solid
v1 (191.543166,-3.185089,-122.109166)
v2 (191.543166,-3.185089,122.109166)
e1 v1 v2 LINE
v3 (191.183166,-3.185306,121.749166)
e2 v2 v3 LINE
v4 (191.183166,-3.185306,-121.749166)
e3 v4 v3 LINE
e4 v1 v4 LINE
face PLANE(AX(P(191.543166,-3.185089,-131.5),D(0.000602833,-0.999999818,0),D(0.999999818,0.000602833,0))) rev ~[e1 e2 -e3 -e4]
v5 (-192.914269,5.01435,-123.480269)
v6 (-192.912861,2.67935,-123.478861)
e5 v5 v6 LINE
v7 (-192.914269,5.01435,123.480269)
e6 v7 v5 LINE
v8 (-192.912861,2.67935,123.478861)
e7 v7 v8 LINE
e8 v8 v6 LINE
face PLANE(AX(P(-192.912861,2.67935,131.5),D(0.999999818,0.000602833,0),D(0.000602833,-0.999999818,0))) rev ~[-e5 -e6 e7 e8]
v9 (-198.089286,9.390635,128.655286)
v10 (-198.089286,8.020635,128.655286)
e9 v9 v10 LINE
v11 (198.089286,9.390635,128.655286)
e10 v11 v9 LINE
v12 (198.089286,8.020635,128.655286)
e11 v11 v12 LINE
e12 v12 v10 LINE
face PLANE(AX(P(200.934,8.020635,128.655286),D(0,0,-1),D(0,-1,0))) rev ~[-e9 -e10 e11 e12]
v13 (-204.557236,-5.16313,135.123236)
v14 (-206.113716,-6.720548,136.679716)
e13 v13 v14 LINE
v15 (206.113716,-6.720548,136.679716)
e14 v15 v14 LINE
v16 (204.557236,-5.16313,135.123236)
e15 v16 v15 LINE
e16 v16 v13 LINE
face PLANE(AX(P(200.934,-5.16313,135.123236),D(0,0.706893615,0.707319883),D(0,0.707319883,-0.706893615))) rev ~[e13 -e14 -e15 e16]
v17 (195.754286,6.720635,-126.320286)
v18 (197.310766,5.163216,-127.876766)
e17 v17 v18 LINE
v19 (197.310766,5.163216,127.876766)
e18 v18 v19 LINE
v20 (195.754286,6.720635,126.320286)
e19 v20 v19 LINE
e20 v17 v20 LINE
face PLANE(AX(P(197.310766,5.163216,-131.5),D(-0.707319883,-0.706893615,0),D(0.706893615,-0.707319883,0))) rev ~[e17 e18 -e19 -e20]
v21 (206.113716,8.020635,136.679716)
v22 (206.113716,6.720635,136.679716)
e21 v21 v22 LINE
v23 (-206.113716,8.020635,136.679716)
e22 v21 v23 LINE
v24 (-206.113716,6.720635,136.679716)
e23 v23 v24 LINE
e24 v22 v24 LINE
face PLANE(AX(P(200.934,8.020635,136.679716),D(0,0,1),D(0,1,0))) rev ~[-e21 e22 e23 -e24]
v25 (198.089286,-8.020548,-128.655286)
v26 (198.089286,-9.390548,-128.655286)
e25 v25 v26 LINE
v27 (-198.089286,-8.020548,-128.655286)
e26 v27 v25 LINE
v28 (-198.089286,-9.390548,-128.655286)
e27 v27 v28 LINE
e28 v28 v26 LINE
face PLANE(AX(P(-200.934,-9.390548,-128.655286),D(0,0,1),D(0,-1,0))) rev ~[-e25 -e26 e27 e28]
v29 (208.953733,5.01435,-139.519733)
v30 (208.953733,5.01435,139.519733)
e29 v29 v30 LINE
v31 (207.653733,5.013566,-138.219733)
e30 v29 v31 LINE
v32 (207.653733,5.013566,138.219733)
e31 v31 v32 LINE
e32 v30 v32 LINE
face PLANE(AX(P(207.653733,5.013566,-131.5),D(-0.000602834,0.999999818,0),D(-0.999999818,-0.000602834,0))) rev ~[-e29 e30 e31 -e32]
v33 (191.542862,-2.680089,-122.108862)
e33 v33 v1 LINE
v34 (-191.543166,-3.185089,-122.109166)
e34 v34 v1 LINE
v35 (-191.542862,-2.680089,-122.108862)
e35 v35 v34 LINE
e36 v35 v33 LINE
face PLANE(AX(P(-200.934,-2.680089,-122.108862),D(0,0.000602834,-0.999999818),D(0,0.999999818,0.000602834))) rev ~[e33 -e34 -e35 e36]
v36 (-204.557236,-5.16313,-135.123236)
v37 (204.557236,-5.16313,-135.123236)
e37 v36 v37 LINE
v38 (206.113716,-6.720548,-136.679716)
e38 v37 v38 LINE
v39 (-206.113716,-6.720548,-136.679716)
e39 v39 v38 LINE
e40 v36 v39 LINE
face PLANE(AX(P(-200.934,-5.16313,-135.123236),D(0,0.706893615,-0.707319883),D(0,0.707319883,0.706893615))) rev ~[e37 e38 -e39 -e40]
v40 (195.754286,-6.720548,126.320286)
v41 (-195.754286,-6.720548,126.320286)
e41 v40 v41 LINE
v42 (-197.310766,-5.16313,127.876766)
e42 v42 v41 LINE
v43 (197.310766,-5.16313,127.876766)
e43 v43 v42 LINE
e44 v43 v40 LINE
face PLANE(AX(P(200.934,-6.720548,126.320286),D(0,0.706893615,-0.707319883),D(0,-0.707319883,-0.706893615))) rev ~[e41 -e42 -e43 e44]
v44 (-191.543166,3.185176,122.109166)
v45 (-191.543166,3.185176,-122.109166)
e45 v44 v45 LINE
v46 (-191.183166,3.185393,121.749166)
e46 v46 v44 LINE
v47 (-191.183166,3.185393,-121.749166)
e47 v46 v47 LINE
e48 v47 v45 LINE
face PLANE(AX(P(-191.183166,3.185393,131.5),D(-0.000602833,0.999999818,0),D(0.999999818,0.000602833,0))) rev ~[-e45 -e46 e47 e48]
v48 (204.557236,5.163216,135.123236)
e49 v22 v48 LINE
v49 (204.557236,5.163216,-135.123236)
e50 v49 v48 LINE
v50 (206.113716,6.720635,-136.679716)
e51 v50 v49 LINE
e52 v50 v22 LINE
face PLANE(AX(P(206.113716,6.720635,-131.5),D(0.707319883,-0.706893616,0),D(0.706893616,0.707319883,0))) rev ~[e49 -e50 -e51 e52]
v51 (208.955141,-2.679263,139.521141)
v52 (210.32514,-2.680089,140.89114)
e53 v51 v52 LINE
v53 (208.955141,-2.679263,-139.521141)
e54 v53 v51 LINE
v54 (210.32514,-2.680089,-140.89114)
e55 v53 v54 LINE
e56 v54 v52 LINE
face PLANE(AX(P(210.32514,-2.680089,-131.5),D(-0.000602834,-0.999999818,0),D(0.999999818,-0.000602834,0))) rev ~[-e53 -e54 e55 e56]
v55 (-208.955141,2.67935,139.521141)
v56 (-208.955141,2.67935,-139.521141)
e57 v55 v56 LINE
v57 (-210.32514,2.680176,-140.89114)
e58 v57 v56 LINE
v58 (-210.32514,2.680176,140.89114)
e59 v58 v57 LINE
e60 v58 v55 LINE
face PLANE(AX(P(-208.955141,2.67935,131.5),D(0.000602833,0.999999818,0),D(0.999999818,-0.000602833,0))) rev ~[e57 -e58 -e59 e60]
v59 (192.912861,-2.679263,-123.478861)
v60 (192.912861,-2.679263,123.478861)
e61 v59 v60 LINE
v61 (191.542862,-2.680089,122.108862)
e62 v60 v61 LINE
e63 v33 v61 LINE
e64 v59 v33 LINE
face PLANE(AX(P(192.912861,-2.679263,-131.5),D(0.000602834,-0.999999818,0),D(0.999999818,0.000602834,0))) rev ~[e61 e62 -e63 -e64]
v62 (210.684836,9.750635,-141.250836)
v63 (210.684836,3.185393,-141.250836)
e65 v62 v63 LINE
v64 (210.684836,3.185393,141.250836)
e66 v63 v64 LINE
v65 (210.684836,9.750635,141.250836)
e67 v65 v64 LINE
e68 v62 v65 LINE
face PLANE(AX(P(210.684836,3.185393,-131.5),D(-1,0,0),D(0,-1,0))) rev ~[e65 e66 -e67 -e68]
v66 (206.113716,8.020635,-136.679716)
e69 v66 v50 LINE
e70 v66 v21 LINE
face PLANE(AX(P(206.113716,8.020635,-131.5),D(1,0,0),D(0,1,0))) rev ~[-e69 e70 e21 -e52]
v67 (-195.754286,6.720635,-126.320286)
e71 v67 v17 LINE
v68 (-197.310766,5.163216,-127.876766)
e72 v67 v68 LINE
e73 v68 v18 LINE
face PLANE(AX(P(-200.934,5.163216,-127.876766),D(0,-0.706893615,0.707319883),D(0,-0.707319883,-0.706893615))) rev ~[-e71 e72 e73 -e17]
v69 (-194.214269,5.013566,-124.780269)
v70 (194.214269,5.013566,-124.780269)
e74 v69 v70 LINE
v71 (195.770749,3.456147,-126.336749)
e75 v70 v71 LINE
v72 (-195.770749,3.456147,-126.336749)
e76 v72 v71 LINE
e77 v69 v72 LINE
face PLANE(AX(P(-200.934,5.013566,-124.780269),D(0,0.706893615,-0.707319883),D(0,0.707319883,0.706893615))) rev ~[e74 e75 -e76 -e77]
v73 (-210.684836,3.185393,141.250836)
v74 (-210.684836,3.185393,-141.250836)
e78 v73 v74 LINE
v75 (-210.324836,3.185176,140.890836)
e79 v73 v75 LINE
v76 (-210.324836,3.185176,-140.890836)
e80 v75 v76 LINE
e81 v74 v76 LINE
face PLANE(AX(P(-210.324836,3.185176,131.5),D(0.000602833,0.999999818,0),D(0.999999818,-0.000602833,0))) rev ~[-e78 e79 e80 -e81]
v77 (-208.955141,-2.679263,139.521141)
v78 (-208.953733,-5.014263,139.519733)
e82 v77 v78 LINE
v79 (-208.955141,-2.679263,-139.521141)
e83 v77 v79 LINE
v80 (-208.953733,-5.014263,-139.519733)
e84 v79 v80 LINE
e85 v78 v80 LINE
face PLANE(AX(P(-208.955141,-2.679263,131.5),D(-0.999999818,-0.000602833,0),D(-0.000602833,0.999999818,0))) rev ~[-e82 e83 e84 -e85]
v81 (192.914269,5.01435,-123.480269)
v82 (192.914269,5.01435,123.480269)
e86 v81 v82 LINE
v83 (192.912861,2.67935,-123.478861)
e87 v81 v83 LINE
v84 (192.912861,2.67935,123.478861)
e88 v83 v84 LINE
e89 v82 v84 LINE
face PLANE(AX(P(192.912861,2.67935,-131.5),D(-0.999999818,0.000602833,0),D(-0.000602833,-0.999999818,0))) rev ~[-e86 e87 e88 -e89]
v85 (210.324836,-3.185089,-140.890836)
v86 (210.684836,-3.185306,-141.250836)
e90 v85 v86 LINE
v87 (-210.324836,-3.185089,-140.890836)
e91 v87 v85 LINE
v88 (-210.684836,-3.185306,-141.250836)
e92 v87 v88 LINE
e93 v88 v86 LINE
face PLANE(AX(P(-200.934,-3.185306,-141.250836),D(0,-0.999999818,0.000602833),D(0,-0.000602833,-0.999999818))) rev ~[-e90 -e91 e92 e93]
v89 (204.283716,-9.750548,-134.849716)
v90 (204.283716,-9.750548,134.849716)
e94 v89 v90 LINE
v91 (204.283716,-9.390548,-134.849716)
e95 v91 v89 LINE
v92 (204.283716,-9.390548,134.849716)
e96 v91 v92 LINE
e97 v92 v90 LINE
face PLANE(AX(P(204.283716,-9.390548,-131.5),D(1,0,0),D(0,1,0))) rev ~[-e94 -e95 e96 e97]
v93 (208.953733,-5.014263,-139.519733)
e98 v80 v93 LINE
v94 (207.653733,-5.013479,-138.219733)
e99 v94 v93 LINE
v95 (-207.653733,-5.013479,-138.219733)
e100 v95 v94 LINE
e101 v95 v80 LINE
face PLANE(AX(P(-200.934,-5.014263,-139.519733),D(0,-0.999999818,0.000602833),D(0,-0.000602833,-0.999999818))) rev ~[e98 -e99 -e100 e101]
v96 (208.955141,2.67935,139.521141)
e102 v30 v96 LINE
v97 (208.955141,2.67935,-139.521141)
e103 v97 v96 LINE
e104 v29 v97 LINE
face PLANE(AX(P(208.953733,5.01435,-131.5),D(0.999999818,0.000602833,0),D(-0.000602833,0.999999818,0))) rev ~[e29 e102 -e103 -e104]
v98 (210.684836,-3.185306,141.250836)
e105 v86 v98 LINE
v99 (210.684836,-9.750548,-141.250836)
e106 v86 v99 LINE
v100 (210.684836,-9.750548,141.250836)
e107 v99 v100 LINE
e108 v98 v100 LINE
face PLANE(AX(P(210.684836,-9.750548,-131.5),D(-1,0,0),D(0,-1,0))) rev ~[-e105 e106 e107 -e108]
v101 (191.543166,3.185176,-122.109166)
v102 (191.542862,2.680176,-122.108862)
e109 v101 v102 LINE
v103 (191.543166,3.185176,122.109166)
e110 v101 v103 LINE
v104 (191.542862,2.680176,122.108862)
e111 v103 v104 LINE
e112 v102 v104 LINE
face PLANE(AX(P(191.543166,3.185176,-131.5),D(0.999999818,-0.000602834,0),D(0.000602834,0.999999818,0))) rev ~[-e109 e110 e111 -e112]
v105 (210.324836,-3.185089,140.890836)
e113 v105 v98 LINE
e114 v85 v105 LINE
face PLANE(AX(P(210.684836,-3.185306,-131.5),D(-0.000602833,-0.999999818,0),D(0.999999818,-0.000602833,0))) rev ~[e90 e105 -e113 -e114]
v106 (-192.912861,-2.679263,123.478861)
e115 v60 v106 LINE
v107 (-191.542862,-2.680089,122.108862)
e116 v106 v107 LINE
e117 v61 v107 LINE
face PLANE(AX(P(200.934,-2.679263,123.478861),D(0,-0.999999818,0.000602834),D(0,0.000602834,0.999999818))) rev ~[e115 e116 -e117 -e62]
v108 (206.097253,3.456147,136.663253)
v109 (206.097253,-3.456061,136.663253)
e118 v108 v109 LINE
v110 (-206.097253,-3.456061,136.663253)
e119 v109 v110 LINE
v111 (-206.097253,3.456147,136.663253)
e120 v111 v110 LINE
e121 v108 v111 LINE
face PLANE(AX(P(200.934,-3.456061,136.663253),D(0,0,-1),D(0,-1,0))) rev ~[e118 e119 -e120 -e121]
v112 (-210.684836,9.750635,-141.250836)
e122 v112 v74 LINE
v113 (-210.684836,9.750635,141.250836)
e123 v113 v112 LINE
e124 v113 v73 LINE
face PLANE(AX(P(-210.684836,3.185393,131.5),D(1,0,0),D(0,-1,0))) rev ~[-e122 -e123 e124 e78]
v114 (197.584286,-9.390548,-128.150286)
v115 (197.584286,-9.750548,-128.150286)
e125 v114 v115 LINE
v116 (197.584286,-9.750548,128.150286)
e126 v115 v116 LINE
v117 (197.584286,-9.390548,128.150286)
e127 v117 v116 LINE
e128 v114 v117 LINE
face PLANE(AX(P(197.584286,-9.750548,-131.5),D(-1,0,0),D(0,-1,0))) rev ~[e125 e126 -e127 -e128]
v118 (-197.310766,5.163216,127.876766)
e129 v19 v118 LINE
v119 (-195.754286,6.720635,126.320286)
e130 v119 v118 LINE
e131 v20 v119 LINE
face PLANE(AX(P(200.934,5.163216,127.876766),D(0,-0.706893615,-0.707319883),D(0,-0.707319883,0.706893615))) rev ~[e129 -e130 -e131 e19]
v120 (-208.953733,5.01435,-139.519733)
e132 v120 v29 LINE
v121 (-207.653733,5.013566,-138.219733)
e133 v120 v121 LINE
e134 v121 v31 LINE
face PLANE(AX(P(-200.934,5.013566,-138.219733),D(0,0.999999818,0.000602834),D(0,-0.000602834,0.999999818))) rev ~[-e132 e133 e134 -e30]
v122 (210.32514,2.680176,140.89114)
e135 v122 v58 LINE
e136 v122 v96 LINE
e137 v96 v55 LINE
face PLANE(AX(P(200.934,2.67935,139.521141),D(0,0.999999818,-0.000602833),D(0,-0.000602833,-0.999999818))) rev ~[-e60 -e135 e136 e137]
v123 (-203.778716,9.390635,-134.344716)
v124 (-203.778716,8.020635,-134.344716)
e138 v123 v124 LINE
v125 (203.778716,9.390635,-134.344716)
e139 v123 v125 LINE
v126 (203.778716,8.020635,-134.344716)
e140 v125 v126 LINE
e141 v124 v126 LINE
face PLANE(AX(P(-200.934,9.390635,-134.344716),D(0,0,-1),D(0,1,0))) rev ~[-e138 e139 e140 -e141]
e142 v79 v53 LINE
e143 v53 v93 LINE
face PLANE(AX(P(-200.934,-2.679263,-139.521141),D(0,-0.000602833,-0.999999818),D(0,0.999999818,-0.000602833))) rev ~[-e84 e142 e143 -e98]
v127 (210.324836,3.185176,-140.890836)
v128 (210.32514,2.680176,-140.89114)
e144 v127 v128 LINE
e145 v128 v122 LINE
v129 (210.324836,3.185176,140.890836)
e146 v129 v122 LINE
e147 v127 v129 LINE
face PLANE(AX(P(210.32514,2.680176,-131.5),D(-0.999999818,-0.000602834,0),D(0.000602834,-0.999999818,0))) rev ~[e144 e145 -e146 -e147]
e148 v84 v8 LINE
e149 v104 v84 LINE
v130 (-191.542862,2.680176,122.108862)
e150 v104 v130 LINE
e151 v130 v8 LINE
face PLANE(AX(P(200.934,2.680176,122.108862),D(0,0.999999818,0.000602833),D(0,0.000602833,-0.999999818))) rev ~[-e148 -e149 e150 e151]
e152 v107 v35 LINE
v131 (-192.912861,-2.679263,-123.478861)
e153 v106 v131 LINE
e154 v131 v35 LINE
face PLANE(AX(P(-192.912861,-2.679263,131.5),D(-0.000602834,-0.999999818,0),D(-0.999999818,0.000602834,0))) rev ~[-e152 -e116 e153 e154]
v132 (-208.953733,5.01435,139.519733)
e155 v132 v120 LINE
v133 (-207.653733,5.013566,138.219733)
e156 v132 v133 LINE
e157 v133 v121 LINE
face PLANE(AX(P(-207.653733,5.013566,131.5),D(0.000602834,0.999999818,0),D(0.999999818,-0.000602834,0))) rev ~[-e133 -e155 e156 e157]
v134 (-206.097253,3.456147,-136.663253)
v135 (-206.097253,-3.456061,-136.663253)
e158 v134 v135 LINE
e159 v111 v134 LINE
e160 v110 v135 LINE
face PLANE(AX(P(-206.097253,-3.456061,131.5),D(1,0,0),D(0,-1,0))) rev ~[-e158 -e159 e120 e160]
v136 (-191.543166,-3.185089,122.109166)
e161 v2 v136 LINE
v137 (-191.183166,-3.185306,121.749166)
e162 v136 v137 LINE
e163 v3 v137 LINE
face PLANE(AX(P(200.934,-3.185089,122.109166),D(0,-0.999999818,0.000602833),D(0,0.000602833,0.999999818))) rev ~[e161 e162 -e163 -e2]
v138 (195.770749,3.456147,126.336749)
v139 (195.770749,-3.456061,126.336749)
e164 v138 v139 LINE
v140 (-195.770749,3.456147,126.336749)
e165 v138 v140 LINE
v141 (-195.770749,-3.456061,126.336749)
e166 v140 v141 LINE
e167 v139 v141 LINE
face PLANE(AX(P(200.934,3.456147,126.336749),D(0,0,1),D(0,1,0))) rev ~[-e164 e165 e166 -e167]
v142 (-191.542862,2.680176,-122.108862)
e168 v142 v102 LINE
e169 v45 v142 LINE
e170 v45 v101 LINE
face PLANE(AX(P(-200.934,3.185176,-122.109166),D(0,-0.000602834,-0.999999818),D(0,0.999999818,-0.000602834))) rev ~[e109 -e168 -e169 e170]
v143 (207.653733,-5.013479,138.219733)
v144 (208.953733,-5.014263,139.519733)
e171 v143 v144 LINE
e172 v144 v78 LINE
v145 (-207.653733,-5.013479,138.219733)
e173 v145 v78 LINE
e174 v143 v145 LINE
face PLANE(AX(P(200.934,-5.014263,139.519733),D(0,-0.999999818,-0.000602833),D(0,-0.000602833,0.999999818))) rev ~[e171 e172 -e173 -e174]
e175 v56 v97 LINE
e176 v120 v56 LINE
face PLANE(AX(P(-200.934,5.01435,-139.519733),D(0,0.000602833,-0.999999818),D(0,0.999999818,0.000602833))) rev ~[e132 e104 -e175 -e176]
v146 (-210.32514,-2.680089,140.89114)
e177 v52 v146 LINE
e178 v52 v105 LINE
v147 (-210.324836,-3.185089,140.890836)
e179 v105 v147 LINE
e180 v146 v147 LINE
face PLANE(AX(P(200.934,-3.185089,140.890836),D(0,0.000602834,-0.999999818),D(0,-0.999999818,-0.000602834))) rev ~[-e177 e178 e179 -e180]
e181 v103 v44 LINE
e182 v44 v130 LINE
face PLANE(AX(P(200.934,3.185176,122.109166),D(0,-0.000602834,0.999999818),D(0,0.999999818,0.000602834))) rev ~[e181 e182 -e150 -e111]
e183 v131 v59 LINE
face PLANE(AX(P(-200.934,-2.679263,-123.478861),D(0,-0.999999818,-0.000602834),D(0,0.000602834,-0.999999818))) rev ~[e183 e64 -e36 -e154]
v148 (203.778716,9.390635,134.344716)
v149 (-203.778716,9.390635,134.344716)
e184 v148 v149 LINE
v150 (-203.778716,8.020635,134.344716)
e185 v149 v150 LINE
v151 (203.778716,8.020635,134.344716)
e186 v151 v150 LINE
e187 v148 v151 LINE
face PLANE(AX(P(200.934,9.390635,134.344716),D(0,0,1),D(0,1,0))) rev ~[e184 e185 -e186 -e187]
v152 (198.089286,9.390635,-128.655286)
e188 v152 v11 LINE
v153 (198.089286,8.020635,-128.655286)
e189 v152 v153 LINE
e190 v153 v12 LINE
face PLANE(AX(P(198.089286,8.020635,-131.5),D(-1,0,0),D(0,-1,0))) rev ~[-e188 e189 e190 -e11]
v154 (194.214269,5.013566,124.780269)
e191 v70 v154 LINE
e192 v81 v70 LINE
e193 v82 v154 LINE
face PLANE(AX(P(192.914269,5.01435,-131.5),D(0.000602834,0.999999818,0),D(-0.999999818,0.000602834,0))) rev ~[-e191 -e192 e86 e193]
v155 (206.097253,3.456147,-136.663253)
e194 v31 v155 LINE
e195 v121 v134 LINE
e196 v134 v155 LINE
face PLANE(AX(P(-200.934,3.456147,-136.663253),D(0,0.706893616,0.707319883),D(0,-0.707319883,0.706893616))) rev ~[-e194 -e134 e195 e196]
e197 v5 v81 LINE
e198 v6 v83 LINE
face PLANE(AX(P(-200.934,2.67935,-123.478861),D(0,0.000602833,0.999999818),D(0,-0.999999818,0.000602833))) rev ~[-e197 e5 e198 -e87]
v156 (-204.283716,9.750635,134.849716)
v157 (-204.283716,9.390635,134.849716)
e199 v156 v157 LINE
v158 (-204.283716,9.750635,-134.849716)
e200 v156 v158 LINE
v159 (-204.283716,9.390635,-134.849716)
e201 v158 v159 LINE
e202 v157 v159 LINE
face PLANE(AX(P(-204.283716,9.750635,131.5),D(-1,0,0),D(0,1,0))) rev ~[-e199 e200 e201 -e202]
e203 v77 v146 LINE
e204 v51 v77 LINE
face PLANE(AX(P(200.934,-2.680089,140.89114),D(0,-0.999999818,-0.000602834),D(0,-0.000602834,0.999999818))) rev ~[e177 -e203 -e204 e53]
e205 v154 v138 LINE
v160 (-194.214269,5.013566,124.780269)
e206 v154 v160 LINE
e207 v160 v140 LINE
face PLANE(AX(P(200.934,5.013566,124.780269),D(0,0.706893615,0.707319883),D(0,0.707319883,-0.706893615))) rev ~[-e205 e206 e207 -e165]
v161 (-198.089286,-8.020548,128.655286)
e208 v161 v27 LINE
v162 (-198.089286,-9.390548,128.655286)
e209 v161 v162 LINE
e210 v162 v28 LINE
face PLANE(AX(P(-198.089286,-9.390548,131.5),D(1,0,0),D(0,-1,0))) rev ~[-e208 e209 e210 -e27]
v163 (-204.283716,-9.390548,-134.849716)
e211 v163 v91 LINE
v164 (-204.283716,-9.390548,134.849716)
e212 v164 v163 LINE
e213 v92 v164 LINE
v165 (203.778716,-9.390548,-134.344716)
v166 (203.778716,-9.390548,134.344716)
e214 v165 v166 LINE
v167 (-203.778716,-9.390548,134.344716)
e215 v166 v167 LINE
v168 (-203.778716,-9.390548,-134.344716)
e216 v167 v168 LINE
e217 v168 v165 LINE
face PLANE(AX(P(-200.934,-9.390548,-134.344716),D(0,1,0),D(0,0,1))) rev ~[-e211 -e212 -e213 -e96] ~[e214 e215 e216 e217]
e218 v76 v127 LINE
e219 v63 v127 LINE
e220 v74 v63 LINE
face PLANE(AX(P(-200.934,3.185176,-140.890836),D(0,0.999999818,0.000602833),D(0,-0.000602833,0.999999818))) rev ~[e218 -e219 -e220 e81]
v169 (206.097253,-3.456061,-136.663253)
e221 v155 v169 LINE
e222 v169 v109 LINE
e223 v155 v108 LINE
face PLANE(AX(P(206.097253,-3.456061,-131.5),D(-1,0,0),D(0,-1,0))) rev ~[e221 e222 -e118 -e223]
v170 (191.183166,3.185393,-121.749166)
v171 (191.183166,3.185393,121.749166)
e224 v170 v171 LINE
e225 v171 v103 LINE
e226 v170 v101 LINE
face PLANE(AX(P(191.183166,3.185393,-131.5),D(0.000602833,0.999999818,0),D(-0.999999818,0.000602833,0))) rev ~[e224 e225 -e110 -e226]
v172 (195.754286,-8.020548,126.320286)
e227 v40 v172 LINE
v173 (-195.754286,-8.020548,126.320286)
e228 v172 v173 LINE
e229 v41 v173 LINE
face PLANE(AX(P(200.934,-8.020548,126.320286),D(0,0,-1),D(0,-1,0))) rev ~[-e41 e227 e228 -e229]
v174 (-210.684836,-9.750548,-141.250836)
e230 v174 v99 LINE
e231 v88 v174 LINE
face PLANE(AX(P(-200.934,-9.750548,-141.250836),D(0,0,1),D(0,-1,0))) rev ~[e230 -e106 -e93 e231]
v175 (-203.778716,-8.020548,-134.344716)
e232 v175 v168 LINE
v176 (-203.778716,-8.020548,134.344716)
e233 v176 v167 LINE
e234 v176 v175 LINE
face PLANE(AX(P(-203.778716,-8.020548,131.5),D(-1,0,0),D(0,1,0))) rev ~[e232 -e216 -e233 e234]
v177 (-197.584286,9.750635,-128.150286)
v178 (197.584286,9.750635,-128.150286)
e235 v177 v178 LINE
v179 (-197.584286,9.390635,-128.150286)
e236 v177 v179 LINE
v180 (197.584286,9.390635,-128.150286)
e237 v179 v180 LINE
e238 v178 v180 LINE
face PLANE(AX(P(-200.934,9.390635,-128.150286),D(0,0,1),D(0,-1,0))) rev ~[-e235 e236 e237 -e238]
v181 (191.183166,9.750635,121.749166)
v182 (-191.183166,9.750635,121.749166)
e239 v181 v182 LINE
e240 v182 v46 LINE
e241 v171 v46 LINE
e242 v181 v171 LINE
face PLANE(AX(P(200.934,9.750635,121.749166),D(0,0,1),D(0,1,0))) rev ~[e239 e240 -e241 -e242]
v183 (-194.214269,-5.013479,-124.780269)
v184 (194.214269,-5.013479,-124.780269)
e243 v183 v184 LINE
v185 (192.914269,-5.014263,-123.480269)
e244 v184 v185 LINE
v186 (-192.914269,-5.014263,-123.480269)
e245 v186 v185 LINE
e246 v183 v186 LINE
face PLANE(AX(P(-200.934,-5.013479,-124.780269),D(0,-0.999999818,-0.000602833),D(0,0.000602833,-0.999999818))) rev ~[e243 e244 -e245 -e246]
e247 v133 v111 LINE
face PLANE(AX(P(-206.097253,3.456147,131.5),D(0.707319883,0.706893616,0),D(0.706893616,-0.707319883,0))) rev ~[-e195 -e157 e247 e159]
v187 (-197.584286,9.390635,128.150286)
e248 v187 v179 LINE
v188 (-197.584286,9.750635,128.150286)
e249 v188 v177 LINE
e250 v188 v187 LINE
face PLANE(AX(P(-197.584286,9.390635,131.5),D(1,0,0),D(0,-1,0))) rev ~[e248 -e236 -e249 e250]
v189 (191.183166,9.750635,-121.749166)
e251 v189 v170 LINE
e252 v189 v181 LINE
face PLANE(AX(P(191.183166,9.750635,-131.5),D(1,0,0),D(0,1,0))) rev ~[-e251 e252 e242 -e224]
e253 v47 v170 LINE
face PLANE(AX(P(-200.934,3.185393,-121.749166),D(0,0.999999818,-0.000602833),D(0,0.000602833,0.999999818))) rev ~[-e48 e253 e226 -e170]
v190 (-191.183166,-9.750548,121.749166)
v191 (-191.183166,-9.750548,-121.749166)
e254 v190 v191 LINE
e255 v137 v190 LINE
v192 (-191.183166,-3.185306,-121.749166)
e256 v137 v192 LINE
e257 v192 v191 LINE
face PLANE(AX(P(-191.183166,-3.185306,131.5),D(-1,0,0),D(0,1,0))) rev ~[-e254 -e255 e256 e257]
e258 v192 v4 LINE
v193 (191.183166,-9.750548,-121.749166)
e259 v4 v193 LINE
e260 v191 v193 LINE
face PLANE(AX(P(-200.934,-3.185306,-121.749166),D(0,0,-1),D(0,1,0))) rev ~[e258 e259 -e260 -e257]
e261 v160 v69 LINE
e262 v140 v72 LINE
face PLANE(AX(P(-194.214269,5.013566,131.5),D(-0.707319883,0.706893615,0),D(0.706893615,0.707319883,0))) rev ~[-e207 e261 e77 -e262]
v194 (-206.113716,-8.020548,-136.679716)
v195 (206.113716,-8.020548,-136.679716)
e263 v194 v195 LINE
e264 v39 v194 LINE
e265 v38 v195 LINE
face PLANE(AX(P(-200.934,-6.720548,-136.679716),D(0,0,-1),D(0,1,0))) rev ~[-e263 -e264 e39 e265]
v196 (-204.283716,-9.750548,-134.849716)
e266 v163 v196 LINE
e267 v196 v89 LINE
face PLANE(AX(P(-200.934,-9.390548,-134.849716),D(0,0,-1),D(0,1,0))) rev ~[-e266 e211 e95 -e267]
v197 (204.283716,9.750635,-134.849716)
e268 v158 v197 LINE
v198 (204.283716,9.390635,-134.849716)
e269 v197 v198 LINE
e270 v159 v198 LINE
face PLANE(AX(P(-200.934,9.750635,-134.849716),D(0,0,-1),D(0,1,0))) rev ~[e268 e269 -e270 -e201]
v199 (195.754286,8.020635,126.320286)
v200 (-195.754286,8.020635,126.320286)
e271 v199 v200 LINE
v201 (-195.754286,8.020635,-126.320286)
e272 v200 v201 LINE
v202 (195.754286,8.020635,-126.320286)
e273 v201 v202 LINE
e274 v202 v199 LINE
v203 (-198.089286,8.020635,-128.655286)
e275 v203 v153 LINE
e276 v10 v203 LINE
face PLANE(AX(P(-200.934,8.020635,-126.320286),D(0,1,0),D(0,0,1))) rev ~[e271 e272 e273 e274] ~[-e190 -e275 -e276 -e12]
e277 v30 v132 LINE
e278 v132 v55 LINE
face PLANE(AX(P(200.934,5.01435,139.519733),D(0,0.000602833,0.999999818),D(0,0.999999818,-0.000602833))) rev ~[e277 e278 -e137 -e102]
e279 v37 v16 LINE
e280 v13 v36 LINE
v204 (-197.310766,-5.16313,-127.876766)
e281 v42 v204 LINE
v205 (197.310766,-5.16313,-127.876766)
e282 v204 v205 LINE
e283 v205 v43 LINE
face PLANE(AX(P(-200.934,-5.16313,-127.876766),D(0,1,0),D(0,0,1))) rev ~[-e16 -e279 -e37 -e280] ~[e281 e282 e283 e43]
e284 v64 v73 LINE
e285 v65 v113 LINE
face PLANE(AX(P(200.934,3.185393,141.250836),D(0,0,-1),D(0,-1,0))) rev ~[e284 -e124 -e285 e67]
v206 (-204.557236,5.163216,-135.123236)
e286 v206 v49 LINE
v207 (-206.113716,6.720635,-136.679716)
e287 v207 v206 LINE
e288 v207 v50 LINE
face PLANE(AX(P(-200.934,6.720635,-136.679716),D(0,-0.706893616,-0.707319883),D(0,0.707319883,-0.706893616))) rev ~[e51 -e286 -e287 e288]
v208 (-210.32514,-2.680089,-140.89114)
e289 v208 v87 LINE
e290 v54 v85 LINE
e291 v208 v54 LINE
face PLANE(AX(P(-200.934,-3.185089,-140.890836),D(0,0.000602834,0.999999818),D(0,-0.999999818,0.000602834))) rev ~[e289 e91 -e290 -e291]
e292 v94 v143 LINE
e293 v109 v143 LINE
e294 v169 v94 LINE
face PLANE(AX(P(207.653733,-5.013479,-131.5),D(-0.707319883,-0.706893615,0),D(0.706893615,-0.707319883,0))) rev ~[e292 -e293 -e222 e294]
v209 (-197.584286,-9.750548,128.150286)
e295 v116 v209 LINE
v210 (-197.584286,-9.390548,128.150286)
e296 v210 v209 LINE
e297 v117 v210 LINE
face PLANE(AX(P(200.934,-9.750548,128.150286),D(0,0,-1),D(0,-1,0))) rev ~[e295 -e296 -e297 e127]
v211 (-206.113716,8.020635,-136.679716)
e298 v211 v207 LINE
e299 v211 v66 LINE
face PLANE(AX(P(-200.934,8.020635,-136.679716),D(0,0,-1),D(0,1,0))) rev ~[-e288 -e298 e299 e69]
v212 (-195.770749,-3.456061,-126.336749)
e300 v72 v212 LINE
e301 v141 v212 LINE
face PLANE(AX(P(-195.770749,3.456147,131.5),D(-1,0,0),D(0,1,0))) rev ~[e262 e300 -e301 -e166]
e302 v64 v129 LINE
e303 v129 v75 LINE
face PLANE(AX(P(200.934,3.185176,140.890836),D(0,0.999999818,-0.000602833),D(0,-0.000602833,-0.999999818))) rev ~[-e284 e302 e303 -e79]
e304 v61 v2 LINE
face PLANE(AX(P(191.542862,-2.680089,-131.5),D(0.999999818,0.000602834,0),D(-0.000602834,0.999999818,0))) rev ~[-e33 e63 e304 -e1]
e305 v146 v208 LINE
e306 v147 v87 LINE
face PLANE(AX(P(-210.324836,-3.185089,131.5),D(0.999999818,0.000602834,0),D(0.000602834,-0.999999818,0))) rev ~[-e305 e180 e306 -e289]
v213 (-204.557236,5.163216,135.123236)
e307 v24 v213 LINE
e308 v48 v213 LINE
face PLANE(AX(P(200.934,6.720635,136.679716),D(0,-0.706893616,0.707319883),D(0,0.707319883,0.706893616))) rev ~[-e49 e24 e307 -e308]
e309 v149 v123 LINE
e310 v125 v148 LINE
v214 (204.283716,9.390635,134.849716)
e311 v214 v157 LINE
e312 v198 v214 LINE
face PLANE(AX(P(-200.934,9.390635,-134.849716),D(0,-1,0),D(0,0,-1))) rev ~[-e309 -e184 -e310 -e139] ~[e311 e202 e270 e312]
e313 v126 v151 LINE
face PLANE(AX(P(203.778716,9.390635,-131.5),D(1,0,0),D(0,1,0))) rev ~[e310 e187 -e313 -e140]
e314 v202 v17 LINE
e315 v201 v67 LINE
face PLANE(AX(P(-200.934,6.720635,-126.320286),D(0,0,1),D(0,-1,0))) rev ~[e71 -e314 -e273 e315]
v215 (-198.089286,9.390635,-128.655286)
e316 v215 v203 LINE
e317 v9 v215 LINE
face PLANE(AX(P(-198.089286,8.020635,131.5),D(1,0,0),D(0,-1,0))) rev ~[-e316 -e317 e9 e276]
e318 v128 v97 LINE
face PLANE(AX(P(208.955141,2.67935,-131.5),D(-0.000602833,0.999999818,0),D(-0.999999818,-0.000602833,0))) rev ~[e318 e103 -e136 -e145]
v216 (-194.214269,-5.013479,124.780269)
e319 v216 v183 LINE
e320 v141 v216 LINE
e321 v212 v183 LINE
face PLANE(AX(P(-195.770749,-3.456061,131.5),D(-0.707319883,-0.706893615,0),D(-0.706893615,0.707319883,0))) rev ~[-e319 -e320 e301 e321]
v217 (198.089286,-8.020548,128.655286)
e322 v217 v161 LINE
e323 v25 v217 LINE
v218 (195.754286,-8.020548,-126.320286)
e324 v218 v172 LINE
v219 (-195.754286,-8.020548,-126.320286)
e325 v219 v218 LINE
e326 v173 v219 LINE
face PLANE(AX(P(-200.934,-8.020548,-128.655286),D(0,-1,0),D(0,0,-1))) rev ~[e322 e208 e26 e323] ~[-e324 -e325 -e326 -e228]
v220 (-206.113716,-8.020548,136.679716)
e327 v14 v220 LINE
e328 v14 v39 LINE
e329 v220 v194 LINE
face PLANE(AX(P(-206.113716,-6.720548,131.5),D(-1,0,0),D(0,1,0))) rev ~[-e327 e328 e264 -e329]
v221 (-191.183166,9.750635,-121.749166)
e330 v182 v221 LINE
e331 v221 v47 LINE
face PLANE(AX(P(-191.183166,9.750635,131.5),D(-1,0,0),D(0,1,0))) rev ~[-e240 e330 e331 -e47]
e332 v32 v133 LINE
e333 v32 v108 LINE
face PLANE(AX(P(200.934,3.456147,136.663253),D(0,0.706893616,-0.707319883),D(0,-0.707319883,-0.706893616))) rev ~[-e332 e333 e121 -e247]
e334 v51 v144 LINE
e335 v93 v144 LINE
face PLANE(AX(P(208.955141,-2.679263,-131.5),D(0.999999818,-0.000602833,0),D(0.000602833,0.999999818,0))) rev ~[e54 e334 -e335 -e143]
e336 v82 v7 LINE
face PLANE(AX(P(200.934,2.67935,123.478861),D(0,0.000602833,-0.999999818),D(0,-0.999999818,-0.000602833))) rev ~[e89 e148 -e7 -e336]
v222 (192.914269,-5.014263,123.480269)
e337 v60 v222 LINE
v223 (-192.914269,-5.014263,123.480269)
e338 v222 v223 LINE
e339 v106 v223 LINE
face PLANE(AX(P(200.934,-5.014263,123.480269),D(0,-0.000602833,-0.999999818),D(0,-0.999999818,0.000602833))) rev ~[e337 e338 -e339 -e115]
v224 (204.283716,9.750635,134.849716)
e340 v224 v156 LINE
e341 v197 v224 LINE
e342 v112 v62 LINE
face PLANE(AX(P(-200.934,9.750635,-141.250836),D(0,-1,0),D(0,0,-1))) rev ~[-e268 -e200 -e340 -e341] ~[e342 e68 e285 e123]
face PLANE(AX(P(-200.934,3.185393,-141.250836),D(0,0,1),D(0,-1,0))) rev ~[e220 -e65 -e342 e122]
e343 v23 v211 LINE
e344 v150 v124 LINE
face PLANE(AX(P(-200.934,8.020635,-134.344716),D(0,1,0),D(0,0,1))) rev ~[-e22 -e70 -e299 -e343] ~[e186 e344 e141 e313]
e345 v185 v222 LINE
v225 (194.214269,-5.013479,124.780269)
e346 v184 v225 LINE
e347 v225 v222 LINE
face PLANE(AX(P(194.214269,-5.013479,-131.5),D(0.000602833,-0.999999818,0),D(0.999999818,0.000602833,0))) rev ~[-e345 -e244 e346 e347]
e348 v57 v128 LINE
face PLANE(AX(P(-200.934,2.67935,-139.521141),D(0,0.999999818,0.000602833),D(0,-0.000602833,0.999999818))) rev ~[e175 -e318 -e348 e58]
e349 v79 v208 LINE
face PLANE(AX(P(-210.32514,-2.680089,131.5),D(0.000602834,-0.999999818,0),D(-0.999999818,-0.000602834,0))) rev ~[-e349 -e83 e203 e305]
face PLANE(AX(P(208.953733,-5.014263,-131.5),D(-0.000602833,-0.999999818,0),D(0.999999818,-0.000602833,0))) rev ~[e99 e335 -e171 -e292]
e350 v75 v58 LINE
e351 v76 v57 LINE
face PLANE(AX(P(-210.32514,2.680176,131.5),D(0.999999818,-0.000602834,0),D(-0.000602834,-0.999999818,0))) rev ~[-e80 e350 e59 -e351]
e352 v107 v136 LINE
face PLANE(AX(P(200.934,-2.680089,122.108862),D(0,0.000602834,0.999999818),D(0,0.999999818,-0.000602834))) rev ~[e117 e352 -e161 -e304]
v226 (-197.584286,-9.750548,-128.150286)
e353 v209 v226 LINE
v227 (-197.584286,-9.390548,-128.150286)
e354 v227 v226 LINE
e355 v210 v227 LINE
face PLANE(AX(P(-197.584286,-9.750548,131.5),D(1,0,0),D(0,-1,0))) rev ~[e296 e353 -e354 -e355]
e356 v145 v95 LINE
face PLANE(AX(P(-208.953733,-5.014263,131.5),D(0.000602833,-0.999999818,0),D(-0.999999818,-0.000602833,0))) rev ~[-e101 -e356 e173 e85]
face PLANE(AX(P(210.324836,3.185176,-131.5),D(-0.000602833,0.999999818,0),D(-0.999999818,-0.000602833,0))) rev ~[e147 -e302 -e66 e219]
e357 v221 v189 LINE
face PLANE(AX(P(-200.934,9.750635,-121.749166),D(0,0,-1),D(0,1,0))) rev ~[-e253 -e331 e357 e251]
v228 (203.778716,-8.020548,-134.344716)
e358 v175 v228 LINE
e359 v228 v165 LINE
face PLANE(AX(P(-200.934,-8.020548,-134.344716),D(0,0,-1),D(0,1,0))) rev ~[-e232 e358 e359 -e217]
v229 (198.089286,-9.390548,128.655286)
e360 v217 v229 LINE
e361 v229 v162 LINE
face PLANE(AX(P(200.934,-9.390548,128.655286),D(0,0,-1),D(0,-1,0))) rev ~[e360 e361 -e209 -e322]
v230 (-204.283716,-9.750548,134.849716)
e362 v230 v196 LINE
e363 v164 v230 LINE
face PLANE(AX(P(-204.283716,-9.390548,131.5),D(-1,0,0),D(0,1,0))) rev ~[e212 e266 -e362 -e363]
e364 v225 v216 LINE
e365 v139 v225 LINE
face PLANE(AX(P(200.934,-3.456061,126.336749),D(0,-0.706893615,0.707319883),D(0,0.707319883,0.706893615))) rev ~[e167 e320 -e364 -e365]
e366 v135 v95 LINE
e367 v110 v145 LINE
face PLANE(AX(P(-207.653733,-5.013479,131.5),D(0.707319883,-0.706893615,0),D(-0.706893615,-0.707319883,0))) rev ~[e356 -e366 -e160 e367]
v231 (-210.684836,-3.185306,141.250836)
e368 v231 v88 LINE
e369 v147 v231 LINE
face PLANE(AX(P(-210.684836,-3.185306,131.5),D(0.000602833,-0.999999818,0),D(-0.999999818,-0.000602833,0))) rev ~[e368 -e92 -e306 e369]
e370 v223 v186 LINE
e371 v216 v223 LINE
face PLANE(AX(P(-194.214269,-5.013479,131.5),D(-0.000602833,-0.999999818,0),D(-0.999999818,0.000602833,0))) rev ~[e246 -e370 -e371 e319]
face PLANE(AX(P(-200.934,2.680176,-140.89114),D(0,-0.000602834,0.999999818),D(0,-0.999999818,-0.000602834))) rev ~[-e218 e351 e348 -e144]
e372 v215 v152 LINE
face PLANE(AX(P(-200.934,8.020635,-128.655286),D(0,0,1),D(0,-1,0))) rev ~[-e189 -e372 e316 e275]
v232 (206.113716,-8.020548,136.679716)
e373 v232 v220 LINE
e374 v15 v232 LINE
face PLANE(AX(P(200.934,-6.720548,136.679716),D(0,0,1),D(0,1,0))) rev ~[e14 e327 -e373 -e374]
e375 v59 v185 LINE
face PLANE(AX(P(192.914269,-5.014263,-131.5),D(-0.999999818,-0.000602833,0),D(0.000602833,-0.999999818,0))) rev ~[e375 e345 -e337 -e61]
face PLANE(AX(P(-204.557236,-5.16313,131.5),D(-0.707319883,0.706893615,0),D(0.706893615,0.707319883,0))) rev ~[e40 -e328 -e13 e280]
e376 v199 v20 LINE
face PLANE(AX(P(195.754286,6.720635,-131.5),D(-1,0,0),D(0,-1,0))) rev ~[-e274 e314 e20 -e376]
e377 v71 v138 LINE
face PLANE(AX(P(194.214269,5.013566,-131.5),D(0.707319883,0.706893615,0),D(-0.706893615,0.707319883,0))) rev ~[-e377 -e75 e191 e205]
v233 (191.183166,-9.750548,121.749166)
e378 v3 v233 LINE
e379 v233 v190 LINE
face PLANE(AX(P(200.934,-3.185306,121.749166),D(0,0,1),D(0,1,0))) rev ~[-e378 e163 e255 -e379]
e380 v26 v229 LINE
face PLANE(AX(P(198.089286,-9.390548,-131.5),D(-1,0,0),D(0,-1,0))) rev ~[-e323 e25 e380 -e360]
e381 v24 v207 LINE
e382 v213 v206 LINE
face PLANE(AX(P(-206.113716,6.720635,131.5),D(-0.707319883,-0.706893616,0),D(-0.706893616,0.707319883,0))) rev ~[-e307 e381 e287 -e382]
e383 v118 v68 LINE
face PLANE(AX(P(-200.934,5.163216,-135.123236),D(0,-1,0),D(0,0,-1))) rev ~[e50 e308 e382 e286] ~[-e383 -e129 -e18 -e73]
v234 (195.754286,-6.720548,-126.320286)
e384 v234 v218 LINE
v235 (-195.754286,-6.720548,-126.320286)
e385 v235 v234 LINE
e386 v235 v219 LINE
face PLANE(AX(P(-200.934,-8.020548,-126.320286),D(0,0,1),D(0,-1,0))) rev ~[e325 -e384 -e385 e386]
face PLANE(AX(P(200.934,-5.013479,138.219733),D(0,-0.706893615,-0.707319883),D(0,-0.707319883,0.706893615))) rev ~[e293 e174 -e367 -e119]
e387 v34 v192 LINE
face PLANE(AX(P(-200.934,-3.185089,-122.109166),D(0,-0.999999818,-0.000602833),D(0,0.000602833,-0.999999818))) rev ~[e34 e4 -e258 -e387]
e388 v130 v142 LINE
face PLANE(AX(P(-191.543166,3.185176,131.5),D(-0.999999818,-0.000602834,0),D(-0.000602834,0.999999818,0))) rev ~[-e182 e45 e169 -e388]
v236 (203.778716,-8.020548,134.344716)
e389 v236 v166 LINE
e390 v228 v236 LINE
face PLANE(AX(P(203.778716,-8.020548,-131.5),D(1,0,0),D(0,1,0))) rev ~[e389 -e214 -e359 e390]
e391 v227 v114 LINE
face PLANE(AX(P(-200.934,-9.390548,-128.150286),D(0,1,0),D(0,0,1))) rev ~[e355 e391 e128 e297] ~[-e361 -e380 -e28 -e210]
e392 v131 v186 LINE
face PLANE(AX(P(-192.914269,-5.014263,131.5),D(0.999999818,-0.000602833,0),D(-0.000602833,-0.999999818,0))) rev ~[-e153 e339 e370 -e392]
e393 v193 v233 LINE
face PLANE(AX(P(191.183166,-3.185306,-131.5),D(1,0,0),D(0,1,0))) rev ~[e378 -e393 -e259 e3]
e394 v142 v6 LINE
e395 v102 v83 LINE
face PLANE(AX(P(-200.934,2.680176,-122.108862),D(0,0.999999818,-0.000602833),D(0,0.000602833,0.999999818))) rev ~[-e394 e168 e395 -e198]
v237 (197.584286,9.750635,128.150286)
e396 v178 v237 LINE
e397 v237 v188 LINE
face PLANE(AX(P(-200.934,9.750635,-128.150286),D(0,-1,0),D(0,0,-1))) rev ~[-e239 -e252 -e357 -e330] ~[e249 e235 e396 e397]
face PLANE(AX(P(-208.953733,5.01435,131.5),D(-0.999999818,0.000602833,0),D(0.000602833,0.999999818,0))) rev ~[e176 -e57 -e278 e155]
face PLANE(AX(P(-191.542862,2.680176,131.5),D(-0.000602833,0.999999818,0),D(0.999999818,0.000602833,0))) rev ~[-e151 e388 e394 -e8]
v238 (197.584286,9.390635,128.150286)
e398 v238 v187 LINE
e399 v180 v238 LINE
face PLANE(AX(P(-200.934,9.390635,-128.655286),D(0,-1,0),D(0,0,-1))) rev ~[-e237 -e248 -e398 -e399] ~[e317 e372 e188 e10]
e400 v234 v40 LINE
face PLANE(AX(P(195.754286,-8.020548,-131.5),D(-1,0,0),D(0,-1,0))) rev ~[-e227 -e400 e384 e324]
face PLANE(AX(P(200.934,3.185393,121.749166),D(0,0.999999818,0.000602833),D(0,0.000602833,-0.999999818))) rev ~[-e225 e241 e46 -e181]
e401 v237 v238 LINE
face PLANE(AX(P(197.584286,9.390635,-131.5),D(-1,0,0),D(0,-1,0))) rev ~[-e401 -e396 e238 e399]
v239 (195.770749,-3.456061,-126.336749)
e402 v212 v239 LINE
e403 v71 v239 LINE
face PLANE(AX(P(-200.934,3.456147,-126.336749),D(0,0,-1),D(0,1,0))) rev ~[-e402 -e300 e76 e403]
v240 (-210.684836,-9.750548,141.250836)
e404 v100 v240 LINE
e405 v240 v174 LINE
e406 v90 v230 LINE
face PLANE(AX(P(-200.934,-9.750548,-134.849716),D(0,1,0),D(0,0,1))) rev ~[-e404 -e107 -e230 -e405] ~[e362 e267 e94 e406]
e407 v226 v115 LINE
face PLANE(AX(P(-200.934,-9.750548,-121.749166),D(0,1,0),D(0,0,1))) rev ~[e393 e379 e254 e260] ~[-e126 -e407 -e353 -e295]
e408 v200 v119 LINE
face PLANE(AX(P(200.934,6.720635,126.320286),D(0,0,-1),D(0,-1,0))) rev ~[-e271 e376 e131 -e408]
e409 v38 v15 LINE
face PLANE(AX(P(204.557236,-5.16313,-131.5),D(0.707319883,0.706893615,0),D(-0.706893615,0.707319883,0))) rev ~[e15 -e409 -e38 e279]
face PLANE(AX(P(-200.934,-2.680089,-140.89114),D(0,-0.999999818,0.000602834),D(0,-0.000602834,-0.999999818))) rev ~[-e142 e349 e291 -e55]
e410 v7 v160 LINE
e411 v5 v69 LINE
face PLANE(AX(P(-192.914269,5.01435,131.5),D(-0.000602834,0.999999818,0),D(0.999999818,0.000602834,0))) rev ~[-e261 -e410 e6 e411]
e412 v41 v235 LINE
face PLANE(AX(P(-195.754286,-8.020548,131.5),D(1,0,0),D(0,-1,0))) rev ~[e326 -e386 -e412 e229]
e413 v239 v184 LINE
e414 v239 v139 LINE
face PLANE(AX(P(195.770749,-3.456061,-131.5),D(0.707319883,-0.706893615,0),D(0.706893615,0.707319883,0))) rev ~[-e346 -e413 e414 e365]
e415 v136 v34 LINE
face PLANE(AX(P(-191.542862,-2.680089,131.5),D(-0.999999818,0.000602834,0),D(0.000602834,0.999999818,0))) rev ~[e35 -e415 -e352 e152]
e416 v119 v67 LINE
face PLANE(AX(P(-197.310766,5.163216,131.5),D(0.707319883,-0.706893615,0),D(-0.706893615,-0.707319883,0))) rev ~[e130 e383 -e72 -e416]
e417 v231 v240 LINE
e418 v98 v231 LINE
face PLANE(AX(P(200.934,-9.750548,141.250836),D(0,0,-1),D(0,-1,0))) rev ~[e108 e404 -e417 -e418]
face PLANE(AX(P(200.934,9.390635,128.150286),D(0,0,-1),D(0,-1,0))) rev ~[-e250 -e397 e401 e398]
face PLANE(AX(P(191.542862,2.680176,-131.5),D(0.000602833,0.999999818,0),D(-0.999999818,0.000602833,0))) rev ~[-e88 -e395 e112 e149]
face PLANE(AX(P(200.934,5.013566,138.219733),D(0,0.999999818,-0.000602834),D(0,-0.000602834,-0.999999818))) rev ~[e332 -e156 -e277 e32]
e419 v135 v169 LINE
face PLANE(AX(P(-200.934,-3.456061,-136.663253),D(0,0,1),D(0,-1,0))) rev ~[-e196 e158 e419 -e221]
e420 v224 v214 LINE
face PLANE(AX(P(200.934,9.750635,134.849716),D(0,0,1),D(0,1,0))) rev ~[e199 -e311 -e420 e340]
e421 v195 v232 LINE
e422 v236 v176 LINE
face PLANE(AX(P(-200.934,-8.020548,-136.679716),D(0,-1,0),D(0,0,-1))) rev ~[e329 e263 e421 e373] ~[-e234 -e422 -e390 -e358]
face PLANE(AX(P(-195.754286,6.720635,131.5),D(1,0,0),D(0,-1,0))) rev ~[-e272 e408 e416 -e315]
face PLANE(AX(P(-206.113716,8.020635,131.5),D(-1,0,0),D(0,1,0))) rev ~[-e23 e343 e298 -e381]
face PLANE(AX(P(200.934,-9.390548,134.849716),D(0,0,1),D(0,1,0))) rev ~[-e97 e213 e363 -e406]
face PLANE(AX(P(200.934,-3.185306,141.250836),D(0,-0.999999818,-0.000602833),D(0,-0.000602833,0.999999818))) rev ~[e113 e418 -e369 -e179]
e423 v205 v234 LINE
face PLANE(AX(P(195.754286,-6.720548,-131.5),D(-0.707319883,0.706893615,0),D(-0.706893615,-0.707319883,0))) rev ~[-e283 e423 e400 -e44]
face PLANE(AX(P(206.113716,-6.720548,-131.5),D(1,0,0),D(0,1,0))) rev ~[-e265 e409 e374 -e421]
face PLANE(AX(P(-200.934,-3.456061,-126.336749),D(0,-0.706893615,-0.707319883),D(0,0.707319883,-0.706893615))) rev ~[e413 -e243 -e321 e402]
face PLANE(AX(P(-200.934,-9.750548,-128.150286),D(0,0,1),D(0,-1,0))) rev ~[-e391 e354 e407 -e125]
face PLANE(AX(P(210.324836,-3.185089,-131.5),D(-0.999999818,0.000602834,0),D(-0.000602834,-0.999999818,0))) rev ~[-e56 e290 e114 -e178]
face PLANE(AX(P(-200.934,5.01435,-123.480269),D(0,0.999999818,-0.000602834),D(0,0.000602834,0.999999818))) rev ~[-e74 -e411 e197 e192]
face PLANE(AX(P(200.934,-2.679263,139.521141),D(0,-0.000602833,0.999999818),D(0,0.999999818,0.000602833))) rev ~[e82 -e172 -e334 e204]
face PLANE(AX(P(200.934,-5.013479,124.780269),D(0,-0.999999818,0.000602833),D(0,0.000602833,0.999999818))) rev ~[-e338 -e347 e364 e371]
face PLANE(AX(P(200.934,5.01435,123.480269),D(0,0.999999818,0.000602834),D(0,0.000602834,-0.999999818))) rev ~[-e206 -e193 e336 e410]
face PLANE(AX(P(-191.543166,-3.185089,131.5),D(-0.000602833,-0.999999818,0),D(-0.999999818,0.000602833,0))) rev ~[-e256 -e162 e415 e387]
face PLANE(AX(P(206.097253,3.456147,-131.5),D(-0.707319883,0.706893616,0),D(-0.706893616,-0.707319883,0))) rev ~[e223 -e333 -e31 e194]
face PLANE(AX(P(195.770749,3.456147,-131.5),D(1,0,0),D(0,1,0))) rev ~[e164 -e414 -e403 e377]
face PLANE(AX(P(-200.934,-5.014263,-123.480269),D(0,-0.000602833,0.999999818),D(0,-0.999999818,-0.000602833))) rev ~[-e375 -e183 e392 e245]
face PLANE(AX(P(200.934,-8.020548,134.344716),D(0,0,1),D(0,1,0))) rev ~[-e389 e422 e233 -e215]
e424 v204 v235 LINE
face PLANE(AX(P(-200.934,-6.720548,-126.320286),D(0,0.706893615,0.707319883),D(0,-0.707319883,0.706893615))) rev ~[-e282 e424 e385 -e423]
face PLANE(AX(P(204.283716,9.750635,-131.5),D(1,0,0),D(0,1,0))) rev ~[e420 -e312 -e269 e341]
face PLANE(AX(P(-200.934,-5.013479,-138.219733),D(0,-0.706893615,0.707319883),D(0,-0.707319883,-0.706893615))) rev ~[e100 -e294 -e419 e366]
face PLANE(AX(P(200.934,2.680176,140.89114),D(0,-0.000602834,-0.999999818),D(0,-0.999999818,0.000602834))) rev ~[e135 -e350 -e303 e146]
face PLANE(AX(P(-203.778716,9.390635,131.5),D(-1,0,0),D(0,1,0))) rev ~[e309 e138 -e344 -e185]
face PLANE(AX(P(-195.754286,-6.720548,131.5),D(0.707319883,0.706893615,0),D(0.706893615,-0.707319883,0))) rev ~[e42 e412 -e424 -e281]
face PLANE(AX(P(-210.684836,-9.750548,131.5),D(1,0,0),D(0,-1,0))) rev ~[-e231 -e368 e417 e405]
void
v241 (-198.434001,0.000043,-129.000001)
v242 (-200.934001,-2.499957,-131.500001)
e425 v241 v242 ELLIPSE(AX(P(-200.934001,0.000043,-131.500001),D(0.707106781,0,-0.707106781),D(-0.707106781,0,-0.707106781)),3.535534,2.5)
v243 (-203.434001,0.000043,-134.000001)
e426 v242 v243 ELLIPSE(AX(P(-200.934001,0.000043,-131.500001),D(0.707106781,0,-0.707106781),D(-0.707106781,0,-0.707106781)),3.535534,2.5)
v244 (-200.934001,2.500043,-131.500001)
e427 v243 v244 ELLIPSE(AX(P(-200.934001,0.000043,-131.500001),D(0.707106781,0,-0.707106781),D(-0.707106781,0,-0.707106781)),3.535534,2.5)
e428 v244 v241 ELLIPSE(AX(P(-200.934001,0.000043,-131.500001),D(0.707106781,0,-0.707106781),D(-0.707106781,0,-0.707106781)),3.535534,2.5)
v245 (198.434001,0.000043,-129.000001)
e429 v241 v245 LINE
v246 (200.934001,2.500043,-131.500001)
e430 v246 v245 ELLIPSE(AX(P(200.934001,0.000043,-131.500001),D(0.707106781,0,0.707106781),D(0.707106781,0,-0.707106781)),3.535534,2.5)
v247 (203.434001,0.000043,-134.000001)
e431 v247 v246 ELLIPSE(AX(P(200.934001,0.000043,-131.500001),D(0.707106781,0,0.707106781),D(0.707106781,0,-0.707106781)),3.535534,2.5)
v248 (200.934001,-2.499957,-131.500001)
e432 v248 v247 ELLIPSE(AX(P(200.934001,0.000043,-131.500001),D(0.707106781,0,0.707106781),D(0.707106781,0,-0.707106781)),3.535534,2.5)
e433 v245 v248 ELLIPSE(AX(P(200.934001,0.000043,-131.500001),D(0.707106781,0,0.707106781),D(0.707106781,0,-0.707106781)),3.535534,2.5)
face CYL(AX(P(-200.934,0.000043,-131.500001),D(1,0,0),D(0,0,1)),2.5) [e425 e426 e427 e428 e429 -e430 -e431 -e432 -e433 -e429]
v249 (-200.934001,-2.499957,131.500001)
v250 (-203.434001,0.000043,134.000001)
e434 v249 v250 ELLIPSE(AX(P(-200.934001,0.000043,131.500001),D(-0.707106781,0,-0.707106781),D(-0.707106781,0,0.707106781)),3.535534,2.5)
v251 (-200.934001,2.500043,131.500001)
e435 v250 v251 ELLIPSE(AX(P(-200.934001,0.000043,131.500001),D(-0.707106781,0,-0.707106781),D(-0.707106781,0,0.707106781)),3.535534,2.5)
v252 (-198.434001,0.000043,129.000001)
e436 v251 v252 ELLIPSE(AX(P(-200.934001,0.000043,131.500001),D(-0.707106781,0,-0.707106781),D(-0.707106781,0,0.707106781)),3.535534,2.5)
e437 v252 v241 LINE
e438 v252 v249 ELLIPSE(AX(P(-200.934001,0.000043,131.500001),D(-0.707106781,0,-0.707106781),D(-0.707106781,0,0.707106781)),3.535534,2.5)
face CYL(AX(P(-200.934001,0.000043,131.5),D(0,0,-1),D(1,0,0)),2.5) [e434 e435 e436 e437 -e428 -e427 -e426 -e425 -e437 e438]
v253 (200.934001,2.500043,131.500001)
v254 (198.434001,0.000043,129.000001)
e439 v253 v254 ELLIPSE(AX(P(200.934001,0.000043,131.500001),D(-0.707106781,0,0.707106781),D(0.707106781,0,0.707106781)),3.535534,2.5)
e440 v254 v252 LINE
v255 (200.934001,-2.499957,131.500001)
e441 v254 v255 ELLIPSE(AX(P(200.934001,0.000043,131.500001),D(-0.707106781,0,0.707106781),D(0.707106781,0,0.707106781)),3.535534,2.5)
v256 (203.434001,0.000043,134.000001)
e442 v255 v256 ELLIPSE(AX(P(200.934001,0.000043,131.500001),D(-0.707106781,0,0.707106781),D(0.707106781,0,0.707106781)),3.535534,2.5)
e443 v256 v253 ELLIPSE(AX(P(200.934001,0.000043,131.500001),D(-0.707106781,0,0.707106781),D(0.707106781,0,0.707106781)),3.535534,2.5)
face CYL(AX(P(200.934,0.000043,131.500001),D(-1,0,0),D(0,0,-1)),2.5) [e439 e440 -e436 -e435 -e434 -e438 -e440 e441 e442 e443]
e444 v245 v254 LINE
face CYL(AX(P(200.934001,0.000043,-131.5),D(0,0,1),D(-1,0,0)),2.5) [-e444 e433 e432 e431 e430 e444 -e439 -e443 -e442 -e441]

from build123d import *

# Parameters (mm, degrees)
CROQUIS2_R = 2.5


with BuildPart() as part:
    # Barrer1: sweep along a path in Croquis1
    with BuildLine(Plane(origin=(0, 0, 0), x_dir=(1, 0, 0), z_dir=(0, 1, 0))) as barrer1_path:
        Line((-200.934, 131.5), (200.934, 131.5))
        Line((200.934, 131.5), (200.934, -131.5))
        Line((200.934, -131.5), (-200.934, -131.5))
        Line((-200.934, -131.5), (-200.934, 131.5))
    # Croquis2 → Barrer1 (sweep)
    with BuildSketch(Plane(origin=(0, 0, 0), x_dir=(0, 0, -1), z_dir=(1, 0, 0))):
        Polygon((-134.849716447, 9.750635048), (-134.849716447, 9.390635048), (-134.344716447, 9.390635048), (-134.344716447, 8.020635048), (-136.679716447, 8.020635048), (-136.679716447, 6.720635048), (-135.123236313, 5.163216334), (-127.876765738, 5.163216334), (-126.320285605, 6.720635048), (-126.320285605, 8.020635048), (-128.655285605, 8.020635048), (-128.655285605, 9.390635048), (-128.150285605, 9.390635048), (-128.150285605, 9.750635048), (-121.749166204, 9.750635048), (-121.749166204, 3.185392978), (-122.109166138, 3.185175958), (-122.108861707, 2.680176049), (-123.478861458, 2.679350168), (-123.480269074, 5.014349744), (-124.780268838, 5.01356606), (-126.336748971, 3.456147346), (-126.336748971, -3.456060512), (-124.780268838, -5.013479227), (-123.480269074, -5.01426291), (-123.478861458, -2.679263334), (-122.108861707, -2.680089216), (-122.109166138, -3.185089124), (-121.749166204, -3.185306144), (-121.749166204, -9.750548215), (-128.150285605, -9.750548215), (-128.150285605, -9.390548215), (-128.655285605, -9.390548215), (-128.655285605, -8.020548215), (-126.320285605, -8.020548215), (-126.320285605, -6.720548215), (-127.876765738, -5.1631295), (-135.123236313, -5.1631295), (-136.679716447, -6.720548215), (-136.679716447, -8.020548215), (-134.344716447, -8.020548215), (-134.344716447, -9.390548215), (-134.849716447, -9.390548215), (-134.849716447, -9.750548215), (-141.250835848, -9.750548215), (-141.250835848, -3.185306144), (-140.890835913, -3.185089124), (-140.891140344, -2.680089216), (-139.521140593, -2.679263334), (-139.519732977, -5.01426291), (-138.219733214, -5.013479227), (-136.66325308, -3.456060512), (-136.66325308, 3.456147346), (-138.219733214, 5.01356606), (-139.519732977, 5.014349744), (-139.521140593, 2.679350168), (-140.891140344, 2.680176049), (-140.890835913, 3.185175958), (-141.250835848, 3.185392978), (-141.250835848, 9.750635048), align=None)
        with Locations((-131.500001026, 4.3417e-05)):
            Circle(CROQUIS2_R, mode=Mode.SUBTRACT)
    sweep(path=barrer1_path.line, transition=Transition.RIGHT)


solid = part.part
